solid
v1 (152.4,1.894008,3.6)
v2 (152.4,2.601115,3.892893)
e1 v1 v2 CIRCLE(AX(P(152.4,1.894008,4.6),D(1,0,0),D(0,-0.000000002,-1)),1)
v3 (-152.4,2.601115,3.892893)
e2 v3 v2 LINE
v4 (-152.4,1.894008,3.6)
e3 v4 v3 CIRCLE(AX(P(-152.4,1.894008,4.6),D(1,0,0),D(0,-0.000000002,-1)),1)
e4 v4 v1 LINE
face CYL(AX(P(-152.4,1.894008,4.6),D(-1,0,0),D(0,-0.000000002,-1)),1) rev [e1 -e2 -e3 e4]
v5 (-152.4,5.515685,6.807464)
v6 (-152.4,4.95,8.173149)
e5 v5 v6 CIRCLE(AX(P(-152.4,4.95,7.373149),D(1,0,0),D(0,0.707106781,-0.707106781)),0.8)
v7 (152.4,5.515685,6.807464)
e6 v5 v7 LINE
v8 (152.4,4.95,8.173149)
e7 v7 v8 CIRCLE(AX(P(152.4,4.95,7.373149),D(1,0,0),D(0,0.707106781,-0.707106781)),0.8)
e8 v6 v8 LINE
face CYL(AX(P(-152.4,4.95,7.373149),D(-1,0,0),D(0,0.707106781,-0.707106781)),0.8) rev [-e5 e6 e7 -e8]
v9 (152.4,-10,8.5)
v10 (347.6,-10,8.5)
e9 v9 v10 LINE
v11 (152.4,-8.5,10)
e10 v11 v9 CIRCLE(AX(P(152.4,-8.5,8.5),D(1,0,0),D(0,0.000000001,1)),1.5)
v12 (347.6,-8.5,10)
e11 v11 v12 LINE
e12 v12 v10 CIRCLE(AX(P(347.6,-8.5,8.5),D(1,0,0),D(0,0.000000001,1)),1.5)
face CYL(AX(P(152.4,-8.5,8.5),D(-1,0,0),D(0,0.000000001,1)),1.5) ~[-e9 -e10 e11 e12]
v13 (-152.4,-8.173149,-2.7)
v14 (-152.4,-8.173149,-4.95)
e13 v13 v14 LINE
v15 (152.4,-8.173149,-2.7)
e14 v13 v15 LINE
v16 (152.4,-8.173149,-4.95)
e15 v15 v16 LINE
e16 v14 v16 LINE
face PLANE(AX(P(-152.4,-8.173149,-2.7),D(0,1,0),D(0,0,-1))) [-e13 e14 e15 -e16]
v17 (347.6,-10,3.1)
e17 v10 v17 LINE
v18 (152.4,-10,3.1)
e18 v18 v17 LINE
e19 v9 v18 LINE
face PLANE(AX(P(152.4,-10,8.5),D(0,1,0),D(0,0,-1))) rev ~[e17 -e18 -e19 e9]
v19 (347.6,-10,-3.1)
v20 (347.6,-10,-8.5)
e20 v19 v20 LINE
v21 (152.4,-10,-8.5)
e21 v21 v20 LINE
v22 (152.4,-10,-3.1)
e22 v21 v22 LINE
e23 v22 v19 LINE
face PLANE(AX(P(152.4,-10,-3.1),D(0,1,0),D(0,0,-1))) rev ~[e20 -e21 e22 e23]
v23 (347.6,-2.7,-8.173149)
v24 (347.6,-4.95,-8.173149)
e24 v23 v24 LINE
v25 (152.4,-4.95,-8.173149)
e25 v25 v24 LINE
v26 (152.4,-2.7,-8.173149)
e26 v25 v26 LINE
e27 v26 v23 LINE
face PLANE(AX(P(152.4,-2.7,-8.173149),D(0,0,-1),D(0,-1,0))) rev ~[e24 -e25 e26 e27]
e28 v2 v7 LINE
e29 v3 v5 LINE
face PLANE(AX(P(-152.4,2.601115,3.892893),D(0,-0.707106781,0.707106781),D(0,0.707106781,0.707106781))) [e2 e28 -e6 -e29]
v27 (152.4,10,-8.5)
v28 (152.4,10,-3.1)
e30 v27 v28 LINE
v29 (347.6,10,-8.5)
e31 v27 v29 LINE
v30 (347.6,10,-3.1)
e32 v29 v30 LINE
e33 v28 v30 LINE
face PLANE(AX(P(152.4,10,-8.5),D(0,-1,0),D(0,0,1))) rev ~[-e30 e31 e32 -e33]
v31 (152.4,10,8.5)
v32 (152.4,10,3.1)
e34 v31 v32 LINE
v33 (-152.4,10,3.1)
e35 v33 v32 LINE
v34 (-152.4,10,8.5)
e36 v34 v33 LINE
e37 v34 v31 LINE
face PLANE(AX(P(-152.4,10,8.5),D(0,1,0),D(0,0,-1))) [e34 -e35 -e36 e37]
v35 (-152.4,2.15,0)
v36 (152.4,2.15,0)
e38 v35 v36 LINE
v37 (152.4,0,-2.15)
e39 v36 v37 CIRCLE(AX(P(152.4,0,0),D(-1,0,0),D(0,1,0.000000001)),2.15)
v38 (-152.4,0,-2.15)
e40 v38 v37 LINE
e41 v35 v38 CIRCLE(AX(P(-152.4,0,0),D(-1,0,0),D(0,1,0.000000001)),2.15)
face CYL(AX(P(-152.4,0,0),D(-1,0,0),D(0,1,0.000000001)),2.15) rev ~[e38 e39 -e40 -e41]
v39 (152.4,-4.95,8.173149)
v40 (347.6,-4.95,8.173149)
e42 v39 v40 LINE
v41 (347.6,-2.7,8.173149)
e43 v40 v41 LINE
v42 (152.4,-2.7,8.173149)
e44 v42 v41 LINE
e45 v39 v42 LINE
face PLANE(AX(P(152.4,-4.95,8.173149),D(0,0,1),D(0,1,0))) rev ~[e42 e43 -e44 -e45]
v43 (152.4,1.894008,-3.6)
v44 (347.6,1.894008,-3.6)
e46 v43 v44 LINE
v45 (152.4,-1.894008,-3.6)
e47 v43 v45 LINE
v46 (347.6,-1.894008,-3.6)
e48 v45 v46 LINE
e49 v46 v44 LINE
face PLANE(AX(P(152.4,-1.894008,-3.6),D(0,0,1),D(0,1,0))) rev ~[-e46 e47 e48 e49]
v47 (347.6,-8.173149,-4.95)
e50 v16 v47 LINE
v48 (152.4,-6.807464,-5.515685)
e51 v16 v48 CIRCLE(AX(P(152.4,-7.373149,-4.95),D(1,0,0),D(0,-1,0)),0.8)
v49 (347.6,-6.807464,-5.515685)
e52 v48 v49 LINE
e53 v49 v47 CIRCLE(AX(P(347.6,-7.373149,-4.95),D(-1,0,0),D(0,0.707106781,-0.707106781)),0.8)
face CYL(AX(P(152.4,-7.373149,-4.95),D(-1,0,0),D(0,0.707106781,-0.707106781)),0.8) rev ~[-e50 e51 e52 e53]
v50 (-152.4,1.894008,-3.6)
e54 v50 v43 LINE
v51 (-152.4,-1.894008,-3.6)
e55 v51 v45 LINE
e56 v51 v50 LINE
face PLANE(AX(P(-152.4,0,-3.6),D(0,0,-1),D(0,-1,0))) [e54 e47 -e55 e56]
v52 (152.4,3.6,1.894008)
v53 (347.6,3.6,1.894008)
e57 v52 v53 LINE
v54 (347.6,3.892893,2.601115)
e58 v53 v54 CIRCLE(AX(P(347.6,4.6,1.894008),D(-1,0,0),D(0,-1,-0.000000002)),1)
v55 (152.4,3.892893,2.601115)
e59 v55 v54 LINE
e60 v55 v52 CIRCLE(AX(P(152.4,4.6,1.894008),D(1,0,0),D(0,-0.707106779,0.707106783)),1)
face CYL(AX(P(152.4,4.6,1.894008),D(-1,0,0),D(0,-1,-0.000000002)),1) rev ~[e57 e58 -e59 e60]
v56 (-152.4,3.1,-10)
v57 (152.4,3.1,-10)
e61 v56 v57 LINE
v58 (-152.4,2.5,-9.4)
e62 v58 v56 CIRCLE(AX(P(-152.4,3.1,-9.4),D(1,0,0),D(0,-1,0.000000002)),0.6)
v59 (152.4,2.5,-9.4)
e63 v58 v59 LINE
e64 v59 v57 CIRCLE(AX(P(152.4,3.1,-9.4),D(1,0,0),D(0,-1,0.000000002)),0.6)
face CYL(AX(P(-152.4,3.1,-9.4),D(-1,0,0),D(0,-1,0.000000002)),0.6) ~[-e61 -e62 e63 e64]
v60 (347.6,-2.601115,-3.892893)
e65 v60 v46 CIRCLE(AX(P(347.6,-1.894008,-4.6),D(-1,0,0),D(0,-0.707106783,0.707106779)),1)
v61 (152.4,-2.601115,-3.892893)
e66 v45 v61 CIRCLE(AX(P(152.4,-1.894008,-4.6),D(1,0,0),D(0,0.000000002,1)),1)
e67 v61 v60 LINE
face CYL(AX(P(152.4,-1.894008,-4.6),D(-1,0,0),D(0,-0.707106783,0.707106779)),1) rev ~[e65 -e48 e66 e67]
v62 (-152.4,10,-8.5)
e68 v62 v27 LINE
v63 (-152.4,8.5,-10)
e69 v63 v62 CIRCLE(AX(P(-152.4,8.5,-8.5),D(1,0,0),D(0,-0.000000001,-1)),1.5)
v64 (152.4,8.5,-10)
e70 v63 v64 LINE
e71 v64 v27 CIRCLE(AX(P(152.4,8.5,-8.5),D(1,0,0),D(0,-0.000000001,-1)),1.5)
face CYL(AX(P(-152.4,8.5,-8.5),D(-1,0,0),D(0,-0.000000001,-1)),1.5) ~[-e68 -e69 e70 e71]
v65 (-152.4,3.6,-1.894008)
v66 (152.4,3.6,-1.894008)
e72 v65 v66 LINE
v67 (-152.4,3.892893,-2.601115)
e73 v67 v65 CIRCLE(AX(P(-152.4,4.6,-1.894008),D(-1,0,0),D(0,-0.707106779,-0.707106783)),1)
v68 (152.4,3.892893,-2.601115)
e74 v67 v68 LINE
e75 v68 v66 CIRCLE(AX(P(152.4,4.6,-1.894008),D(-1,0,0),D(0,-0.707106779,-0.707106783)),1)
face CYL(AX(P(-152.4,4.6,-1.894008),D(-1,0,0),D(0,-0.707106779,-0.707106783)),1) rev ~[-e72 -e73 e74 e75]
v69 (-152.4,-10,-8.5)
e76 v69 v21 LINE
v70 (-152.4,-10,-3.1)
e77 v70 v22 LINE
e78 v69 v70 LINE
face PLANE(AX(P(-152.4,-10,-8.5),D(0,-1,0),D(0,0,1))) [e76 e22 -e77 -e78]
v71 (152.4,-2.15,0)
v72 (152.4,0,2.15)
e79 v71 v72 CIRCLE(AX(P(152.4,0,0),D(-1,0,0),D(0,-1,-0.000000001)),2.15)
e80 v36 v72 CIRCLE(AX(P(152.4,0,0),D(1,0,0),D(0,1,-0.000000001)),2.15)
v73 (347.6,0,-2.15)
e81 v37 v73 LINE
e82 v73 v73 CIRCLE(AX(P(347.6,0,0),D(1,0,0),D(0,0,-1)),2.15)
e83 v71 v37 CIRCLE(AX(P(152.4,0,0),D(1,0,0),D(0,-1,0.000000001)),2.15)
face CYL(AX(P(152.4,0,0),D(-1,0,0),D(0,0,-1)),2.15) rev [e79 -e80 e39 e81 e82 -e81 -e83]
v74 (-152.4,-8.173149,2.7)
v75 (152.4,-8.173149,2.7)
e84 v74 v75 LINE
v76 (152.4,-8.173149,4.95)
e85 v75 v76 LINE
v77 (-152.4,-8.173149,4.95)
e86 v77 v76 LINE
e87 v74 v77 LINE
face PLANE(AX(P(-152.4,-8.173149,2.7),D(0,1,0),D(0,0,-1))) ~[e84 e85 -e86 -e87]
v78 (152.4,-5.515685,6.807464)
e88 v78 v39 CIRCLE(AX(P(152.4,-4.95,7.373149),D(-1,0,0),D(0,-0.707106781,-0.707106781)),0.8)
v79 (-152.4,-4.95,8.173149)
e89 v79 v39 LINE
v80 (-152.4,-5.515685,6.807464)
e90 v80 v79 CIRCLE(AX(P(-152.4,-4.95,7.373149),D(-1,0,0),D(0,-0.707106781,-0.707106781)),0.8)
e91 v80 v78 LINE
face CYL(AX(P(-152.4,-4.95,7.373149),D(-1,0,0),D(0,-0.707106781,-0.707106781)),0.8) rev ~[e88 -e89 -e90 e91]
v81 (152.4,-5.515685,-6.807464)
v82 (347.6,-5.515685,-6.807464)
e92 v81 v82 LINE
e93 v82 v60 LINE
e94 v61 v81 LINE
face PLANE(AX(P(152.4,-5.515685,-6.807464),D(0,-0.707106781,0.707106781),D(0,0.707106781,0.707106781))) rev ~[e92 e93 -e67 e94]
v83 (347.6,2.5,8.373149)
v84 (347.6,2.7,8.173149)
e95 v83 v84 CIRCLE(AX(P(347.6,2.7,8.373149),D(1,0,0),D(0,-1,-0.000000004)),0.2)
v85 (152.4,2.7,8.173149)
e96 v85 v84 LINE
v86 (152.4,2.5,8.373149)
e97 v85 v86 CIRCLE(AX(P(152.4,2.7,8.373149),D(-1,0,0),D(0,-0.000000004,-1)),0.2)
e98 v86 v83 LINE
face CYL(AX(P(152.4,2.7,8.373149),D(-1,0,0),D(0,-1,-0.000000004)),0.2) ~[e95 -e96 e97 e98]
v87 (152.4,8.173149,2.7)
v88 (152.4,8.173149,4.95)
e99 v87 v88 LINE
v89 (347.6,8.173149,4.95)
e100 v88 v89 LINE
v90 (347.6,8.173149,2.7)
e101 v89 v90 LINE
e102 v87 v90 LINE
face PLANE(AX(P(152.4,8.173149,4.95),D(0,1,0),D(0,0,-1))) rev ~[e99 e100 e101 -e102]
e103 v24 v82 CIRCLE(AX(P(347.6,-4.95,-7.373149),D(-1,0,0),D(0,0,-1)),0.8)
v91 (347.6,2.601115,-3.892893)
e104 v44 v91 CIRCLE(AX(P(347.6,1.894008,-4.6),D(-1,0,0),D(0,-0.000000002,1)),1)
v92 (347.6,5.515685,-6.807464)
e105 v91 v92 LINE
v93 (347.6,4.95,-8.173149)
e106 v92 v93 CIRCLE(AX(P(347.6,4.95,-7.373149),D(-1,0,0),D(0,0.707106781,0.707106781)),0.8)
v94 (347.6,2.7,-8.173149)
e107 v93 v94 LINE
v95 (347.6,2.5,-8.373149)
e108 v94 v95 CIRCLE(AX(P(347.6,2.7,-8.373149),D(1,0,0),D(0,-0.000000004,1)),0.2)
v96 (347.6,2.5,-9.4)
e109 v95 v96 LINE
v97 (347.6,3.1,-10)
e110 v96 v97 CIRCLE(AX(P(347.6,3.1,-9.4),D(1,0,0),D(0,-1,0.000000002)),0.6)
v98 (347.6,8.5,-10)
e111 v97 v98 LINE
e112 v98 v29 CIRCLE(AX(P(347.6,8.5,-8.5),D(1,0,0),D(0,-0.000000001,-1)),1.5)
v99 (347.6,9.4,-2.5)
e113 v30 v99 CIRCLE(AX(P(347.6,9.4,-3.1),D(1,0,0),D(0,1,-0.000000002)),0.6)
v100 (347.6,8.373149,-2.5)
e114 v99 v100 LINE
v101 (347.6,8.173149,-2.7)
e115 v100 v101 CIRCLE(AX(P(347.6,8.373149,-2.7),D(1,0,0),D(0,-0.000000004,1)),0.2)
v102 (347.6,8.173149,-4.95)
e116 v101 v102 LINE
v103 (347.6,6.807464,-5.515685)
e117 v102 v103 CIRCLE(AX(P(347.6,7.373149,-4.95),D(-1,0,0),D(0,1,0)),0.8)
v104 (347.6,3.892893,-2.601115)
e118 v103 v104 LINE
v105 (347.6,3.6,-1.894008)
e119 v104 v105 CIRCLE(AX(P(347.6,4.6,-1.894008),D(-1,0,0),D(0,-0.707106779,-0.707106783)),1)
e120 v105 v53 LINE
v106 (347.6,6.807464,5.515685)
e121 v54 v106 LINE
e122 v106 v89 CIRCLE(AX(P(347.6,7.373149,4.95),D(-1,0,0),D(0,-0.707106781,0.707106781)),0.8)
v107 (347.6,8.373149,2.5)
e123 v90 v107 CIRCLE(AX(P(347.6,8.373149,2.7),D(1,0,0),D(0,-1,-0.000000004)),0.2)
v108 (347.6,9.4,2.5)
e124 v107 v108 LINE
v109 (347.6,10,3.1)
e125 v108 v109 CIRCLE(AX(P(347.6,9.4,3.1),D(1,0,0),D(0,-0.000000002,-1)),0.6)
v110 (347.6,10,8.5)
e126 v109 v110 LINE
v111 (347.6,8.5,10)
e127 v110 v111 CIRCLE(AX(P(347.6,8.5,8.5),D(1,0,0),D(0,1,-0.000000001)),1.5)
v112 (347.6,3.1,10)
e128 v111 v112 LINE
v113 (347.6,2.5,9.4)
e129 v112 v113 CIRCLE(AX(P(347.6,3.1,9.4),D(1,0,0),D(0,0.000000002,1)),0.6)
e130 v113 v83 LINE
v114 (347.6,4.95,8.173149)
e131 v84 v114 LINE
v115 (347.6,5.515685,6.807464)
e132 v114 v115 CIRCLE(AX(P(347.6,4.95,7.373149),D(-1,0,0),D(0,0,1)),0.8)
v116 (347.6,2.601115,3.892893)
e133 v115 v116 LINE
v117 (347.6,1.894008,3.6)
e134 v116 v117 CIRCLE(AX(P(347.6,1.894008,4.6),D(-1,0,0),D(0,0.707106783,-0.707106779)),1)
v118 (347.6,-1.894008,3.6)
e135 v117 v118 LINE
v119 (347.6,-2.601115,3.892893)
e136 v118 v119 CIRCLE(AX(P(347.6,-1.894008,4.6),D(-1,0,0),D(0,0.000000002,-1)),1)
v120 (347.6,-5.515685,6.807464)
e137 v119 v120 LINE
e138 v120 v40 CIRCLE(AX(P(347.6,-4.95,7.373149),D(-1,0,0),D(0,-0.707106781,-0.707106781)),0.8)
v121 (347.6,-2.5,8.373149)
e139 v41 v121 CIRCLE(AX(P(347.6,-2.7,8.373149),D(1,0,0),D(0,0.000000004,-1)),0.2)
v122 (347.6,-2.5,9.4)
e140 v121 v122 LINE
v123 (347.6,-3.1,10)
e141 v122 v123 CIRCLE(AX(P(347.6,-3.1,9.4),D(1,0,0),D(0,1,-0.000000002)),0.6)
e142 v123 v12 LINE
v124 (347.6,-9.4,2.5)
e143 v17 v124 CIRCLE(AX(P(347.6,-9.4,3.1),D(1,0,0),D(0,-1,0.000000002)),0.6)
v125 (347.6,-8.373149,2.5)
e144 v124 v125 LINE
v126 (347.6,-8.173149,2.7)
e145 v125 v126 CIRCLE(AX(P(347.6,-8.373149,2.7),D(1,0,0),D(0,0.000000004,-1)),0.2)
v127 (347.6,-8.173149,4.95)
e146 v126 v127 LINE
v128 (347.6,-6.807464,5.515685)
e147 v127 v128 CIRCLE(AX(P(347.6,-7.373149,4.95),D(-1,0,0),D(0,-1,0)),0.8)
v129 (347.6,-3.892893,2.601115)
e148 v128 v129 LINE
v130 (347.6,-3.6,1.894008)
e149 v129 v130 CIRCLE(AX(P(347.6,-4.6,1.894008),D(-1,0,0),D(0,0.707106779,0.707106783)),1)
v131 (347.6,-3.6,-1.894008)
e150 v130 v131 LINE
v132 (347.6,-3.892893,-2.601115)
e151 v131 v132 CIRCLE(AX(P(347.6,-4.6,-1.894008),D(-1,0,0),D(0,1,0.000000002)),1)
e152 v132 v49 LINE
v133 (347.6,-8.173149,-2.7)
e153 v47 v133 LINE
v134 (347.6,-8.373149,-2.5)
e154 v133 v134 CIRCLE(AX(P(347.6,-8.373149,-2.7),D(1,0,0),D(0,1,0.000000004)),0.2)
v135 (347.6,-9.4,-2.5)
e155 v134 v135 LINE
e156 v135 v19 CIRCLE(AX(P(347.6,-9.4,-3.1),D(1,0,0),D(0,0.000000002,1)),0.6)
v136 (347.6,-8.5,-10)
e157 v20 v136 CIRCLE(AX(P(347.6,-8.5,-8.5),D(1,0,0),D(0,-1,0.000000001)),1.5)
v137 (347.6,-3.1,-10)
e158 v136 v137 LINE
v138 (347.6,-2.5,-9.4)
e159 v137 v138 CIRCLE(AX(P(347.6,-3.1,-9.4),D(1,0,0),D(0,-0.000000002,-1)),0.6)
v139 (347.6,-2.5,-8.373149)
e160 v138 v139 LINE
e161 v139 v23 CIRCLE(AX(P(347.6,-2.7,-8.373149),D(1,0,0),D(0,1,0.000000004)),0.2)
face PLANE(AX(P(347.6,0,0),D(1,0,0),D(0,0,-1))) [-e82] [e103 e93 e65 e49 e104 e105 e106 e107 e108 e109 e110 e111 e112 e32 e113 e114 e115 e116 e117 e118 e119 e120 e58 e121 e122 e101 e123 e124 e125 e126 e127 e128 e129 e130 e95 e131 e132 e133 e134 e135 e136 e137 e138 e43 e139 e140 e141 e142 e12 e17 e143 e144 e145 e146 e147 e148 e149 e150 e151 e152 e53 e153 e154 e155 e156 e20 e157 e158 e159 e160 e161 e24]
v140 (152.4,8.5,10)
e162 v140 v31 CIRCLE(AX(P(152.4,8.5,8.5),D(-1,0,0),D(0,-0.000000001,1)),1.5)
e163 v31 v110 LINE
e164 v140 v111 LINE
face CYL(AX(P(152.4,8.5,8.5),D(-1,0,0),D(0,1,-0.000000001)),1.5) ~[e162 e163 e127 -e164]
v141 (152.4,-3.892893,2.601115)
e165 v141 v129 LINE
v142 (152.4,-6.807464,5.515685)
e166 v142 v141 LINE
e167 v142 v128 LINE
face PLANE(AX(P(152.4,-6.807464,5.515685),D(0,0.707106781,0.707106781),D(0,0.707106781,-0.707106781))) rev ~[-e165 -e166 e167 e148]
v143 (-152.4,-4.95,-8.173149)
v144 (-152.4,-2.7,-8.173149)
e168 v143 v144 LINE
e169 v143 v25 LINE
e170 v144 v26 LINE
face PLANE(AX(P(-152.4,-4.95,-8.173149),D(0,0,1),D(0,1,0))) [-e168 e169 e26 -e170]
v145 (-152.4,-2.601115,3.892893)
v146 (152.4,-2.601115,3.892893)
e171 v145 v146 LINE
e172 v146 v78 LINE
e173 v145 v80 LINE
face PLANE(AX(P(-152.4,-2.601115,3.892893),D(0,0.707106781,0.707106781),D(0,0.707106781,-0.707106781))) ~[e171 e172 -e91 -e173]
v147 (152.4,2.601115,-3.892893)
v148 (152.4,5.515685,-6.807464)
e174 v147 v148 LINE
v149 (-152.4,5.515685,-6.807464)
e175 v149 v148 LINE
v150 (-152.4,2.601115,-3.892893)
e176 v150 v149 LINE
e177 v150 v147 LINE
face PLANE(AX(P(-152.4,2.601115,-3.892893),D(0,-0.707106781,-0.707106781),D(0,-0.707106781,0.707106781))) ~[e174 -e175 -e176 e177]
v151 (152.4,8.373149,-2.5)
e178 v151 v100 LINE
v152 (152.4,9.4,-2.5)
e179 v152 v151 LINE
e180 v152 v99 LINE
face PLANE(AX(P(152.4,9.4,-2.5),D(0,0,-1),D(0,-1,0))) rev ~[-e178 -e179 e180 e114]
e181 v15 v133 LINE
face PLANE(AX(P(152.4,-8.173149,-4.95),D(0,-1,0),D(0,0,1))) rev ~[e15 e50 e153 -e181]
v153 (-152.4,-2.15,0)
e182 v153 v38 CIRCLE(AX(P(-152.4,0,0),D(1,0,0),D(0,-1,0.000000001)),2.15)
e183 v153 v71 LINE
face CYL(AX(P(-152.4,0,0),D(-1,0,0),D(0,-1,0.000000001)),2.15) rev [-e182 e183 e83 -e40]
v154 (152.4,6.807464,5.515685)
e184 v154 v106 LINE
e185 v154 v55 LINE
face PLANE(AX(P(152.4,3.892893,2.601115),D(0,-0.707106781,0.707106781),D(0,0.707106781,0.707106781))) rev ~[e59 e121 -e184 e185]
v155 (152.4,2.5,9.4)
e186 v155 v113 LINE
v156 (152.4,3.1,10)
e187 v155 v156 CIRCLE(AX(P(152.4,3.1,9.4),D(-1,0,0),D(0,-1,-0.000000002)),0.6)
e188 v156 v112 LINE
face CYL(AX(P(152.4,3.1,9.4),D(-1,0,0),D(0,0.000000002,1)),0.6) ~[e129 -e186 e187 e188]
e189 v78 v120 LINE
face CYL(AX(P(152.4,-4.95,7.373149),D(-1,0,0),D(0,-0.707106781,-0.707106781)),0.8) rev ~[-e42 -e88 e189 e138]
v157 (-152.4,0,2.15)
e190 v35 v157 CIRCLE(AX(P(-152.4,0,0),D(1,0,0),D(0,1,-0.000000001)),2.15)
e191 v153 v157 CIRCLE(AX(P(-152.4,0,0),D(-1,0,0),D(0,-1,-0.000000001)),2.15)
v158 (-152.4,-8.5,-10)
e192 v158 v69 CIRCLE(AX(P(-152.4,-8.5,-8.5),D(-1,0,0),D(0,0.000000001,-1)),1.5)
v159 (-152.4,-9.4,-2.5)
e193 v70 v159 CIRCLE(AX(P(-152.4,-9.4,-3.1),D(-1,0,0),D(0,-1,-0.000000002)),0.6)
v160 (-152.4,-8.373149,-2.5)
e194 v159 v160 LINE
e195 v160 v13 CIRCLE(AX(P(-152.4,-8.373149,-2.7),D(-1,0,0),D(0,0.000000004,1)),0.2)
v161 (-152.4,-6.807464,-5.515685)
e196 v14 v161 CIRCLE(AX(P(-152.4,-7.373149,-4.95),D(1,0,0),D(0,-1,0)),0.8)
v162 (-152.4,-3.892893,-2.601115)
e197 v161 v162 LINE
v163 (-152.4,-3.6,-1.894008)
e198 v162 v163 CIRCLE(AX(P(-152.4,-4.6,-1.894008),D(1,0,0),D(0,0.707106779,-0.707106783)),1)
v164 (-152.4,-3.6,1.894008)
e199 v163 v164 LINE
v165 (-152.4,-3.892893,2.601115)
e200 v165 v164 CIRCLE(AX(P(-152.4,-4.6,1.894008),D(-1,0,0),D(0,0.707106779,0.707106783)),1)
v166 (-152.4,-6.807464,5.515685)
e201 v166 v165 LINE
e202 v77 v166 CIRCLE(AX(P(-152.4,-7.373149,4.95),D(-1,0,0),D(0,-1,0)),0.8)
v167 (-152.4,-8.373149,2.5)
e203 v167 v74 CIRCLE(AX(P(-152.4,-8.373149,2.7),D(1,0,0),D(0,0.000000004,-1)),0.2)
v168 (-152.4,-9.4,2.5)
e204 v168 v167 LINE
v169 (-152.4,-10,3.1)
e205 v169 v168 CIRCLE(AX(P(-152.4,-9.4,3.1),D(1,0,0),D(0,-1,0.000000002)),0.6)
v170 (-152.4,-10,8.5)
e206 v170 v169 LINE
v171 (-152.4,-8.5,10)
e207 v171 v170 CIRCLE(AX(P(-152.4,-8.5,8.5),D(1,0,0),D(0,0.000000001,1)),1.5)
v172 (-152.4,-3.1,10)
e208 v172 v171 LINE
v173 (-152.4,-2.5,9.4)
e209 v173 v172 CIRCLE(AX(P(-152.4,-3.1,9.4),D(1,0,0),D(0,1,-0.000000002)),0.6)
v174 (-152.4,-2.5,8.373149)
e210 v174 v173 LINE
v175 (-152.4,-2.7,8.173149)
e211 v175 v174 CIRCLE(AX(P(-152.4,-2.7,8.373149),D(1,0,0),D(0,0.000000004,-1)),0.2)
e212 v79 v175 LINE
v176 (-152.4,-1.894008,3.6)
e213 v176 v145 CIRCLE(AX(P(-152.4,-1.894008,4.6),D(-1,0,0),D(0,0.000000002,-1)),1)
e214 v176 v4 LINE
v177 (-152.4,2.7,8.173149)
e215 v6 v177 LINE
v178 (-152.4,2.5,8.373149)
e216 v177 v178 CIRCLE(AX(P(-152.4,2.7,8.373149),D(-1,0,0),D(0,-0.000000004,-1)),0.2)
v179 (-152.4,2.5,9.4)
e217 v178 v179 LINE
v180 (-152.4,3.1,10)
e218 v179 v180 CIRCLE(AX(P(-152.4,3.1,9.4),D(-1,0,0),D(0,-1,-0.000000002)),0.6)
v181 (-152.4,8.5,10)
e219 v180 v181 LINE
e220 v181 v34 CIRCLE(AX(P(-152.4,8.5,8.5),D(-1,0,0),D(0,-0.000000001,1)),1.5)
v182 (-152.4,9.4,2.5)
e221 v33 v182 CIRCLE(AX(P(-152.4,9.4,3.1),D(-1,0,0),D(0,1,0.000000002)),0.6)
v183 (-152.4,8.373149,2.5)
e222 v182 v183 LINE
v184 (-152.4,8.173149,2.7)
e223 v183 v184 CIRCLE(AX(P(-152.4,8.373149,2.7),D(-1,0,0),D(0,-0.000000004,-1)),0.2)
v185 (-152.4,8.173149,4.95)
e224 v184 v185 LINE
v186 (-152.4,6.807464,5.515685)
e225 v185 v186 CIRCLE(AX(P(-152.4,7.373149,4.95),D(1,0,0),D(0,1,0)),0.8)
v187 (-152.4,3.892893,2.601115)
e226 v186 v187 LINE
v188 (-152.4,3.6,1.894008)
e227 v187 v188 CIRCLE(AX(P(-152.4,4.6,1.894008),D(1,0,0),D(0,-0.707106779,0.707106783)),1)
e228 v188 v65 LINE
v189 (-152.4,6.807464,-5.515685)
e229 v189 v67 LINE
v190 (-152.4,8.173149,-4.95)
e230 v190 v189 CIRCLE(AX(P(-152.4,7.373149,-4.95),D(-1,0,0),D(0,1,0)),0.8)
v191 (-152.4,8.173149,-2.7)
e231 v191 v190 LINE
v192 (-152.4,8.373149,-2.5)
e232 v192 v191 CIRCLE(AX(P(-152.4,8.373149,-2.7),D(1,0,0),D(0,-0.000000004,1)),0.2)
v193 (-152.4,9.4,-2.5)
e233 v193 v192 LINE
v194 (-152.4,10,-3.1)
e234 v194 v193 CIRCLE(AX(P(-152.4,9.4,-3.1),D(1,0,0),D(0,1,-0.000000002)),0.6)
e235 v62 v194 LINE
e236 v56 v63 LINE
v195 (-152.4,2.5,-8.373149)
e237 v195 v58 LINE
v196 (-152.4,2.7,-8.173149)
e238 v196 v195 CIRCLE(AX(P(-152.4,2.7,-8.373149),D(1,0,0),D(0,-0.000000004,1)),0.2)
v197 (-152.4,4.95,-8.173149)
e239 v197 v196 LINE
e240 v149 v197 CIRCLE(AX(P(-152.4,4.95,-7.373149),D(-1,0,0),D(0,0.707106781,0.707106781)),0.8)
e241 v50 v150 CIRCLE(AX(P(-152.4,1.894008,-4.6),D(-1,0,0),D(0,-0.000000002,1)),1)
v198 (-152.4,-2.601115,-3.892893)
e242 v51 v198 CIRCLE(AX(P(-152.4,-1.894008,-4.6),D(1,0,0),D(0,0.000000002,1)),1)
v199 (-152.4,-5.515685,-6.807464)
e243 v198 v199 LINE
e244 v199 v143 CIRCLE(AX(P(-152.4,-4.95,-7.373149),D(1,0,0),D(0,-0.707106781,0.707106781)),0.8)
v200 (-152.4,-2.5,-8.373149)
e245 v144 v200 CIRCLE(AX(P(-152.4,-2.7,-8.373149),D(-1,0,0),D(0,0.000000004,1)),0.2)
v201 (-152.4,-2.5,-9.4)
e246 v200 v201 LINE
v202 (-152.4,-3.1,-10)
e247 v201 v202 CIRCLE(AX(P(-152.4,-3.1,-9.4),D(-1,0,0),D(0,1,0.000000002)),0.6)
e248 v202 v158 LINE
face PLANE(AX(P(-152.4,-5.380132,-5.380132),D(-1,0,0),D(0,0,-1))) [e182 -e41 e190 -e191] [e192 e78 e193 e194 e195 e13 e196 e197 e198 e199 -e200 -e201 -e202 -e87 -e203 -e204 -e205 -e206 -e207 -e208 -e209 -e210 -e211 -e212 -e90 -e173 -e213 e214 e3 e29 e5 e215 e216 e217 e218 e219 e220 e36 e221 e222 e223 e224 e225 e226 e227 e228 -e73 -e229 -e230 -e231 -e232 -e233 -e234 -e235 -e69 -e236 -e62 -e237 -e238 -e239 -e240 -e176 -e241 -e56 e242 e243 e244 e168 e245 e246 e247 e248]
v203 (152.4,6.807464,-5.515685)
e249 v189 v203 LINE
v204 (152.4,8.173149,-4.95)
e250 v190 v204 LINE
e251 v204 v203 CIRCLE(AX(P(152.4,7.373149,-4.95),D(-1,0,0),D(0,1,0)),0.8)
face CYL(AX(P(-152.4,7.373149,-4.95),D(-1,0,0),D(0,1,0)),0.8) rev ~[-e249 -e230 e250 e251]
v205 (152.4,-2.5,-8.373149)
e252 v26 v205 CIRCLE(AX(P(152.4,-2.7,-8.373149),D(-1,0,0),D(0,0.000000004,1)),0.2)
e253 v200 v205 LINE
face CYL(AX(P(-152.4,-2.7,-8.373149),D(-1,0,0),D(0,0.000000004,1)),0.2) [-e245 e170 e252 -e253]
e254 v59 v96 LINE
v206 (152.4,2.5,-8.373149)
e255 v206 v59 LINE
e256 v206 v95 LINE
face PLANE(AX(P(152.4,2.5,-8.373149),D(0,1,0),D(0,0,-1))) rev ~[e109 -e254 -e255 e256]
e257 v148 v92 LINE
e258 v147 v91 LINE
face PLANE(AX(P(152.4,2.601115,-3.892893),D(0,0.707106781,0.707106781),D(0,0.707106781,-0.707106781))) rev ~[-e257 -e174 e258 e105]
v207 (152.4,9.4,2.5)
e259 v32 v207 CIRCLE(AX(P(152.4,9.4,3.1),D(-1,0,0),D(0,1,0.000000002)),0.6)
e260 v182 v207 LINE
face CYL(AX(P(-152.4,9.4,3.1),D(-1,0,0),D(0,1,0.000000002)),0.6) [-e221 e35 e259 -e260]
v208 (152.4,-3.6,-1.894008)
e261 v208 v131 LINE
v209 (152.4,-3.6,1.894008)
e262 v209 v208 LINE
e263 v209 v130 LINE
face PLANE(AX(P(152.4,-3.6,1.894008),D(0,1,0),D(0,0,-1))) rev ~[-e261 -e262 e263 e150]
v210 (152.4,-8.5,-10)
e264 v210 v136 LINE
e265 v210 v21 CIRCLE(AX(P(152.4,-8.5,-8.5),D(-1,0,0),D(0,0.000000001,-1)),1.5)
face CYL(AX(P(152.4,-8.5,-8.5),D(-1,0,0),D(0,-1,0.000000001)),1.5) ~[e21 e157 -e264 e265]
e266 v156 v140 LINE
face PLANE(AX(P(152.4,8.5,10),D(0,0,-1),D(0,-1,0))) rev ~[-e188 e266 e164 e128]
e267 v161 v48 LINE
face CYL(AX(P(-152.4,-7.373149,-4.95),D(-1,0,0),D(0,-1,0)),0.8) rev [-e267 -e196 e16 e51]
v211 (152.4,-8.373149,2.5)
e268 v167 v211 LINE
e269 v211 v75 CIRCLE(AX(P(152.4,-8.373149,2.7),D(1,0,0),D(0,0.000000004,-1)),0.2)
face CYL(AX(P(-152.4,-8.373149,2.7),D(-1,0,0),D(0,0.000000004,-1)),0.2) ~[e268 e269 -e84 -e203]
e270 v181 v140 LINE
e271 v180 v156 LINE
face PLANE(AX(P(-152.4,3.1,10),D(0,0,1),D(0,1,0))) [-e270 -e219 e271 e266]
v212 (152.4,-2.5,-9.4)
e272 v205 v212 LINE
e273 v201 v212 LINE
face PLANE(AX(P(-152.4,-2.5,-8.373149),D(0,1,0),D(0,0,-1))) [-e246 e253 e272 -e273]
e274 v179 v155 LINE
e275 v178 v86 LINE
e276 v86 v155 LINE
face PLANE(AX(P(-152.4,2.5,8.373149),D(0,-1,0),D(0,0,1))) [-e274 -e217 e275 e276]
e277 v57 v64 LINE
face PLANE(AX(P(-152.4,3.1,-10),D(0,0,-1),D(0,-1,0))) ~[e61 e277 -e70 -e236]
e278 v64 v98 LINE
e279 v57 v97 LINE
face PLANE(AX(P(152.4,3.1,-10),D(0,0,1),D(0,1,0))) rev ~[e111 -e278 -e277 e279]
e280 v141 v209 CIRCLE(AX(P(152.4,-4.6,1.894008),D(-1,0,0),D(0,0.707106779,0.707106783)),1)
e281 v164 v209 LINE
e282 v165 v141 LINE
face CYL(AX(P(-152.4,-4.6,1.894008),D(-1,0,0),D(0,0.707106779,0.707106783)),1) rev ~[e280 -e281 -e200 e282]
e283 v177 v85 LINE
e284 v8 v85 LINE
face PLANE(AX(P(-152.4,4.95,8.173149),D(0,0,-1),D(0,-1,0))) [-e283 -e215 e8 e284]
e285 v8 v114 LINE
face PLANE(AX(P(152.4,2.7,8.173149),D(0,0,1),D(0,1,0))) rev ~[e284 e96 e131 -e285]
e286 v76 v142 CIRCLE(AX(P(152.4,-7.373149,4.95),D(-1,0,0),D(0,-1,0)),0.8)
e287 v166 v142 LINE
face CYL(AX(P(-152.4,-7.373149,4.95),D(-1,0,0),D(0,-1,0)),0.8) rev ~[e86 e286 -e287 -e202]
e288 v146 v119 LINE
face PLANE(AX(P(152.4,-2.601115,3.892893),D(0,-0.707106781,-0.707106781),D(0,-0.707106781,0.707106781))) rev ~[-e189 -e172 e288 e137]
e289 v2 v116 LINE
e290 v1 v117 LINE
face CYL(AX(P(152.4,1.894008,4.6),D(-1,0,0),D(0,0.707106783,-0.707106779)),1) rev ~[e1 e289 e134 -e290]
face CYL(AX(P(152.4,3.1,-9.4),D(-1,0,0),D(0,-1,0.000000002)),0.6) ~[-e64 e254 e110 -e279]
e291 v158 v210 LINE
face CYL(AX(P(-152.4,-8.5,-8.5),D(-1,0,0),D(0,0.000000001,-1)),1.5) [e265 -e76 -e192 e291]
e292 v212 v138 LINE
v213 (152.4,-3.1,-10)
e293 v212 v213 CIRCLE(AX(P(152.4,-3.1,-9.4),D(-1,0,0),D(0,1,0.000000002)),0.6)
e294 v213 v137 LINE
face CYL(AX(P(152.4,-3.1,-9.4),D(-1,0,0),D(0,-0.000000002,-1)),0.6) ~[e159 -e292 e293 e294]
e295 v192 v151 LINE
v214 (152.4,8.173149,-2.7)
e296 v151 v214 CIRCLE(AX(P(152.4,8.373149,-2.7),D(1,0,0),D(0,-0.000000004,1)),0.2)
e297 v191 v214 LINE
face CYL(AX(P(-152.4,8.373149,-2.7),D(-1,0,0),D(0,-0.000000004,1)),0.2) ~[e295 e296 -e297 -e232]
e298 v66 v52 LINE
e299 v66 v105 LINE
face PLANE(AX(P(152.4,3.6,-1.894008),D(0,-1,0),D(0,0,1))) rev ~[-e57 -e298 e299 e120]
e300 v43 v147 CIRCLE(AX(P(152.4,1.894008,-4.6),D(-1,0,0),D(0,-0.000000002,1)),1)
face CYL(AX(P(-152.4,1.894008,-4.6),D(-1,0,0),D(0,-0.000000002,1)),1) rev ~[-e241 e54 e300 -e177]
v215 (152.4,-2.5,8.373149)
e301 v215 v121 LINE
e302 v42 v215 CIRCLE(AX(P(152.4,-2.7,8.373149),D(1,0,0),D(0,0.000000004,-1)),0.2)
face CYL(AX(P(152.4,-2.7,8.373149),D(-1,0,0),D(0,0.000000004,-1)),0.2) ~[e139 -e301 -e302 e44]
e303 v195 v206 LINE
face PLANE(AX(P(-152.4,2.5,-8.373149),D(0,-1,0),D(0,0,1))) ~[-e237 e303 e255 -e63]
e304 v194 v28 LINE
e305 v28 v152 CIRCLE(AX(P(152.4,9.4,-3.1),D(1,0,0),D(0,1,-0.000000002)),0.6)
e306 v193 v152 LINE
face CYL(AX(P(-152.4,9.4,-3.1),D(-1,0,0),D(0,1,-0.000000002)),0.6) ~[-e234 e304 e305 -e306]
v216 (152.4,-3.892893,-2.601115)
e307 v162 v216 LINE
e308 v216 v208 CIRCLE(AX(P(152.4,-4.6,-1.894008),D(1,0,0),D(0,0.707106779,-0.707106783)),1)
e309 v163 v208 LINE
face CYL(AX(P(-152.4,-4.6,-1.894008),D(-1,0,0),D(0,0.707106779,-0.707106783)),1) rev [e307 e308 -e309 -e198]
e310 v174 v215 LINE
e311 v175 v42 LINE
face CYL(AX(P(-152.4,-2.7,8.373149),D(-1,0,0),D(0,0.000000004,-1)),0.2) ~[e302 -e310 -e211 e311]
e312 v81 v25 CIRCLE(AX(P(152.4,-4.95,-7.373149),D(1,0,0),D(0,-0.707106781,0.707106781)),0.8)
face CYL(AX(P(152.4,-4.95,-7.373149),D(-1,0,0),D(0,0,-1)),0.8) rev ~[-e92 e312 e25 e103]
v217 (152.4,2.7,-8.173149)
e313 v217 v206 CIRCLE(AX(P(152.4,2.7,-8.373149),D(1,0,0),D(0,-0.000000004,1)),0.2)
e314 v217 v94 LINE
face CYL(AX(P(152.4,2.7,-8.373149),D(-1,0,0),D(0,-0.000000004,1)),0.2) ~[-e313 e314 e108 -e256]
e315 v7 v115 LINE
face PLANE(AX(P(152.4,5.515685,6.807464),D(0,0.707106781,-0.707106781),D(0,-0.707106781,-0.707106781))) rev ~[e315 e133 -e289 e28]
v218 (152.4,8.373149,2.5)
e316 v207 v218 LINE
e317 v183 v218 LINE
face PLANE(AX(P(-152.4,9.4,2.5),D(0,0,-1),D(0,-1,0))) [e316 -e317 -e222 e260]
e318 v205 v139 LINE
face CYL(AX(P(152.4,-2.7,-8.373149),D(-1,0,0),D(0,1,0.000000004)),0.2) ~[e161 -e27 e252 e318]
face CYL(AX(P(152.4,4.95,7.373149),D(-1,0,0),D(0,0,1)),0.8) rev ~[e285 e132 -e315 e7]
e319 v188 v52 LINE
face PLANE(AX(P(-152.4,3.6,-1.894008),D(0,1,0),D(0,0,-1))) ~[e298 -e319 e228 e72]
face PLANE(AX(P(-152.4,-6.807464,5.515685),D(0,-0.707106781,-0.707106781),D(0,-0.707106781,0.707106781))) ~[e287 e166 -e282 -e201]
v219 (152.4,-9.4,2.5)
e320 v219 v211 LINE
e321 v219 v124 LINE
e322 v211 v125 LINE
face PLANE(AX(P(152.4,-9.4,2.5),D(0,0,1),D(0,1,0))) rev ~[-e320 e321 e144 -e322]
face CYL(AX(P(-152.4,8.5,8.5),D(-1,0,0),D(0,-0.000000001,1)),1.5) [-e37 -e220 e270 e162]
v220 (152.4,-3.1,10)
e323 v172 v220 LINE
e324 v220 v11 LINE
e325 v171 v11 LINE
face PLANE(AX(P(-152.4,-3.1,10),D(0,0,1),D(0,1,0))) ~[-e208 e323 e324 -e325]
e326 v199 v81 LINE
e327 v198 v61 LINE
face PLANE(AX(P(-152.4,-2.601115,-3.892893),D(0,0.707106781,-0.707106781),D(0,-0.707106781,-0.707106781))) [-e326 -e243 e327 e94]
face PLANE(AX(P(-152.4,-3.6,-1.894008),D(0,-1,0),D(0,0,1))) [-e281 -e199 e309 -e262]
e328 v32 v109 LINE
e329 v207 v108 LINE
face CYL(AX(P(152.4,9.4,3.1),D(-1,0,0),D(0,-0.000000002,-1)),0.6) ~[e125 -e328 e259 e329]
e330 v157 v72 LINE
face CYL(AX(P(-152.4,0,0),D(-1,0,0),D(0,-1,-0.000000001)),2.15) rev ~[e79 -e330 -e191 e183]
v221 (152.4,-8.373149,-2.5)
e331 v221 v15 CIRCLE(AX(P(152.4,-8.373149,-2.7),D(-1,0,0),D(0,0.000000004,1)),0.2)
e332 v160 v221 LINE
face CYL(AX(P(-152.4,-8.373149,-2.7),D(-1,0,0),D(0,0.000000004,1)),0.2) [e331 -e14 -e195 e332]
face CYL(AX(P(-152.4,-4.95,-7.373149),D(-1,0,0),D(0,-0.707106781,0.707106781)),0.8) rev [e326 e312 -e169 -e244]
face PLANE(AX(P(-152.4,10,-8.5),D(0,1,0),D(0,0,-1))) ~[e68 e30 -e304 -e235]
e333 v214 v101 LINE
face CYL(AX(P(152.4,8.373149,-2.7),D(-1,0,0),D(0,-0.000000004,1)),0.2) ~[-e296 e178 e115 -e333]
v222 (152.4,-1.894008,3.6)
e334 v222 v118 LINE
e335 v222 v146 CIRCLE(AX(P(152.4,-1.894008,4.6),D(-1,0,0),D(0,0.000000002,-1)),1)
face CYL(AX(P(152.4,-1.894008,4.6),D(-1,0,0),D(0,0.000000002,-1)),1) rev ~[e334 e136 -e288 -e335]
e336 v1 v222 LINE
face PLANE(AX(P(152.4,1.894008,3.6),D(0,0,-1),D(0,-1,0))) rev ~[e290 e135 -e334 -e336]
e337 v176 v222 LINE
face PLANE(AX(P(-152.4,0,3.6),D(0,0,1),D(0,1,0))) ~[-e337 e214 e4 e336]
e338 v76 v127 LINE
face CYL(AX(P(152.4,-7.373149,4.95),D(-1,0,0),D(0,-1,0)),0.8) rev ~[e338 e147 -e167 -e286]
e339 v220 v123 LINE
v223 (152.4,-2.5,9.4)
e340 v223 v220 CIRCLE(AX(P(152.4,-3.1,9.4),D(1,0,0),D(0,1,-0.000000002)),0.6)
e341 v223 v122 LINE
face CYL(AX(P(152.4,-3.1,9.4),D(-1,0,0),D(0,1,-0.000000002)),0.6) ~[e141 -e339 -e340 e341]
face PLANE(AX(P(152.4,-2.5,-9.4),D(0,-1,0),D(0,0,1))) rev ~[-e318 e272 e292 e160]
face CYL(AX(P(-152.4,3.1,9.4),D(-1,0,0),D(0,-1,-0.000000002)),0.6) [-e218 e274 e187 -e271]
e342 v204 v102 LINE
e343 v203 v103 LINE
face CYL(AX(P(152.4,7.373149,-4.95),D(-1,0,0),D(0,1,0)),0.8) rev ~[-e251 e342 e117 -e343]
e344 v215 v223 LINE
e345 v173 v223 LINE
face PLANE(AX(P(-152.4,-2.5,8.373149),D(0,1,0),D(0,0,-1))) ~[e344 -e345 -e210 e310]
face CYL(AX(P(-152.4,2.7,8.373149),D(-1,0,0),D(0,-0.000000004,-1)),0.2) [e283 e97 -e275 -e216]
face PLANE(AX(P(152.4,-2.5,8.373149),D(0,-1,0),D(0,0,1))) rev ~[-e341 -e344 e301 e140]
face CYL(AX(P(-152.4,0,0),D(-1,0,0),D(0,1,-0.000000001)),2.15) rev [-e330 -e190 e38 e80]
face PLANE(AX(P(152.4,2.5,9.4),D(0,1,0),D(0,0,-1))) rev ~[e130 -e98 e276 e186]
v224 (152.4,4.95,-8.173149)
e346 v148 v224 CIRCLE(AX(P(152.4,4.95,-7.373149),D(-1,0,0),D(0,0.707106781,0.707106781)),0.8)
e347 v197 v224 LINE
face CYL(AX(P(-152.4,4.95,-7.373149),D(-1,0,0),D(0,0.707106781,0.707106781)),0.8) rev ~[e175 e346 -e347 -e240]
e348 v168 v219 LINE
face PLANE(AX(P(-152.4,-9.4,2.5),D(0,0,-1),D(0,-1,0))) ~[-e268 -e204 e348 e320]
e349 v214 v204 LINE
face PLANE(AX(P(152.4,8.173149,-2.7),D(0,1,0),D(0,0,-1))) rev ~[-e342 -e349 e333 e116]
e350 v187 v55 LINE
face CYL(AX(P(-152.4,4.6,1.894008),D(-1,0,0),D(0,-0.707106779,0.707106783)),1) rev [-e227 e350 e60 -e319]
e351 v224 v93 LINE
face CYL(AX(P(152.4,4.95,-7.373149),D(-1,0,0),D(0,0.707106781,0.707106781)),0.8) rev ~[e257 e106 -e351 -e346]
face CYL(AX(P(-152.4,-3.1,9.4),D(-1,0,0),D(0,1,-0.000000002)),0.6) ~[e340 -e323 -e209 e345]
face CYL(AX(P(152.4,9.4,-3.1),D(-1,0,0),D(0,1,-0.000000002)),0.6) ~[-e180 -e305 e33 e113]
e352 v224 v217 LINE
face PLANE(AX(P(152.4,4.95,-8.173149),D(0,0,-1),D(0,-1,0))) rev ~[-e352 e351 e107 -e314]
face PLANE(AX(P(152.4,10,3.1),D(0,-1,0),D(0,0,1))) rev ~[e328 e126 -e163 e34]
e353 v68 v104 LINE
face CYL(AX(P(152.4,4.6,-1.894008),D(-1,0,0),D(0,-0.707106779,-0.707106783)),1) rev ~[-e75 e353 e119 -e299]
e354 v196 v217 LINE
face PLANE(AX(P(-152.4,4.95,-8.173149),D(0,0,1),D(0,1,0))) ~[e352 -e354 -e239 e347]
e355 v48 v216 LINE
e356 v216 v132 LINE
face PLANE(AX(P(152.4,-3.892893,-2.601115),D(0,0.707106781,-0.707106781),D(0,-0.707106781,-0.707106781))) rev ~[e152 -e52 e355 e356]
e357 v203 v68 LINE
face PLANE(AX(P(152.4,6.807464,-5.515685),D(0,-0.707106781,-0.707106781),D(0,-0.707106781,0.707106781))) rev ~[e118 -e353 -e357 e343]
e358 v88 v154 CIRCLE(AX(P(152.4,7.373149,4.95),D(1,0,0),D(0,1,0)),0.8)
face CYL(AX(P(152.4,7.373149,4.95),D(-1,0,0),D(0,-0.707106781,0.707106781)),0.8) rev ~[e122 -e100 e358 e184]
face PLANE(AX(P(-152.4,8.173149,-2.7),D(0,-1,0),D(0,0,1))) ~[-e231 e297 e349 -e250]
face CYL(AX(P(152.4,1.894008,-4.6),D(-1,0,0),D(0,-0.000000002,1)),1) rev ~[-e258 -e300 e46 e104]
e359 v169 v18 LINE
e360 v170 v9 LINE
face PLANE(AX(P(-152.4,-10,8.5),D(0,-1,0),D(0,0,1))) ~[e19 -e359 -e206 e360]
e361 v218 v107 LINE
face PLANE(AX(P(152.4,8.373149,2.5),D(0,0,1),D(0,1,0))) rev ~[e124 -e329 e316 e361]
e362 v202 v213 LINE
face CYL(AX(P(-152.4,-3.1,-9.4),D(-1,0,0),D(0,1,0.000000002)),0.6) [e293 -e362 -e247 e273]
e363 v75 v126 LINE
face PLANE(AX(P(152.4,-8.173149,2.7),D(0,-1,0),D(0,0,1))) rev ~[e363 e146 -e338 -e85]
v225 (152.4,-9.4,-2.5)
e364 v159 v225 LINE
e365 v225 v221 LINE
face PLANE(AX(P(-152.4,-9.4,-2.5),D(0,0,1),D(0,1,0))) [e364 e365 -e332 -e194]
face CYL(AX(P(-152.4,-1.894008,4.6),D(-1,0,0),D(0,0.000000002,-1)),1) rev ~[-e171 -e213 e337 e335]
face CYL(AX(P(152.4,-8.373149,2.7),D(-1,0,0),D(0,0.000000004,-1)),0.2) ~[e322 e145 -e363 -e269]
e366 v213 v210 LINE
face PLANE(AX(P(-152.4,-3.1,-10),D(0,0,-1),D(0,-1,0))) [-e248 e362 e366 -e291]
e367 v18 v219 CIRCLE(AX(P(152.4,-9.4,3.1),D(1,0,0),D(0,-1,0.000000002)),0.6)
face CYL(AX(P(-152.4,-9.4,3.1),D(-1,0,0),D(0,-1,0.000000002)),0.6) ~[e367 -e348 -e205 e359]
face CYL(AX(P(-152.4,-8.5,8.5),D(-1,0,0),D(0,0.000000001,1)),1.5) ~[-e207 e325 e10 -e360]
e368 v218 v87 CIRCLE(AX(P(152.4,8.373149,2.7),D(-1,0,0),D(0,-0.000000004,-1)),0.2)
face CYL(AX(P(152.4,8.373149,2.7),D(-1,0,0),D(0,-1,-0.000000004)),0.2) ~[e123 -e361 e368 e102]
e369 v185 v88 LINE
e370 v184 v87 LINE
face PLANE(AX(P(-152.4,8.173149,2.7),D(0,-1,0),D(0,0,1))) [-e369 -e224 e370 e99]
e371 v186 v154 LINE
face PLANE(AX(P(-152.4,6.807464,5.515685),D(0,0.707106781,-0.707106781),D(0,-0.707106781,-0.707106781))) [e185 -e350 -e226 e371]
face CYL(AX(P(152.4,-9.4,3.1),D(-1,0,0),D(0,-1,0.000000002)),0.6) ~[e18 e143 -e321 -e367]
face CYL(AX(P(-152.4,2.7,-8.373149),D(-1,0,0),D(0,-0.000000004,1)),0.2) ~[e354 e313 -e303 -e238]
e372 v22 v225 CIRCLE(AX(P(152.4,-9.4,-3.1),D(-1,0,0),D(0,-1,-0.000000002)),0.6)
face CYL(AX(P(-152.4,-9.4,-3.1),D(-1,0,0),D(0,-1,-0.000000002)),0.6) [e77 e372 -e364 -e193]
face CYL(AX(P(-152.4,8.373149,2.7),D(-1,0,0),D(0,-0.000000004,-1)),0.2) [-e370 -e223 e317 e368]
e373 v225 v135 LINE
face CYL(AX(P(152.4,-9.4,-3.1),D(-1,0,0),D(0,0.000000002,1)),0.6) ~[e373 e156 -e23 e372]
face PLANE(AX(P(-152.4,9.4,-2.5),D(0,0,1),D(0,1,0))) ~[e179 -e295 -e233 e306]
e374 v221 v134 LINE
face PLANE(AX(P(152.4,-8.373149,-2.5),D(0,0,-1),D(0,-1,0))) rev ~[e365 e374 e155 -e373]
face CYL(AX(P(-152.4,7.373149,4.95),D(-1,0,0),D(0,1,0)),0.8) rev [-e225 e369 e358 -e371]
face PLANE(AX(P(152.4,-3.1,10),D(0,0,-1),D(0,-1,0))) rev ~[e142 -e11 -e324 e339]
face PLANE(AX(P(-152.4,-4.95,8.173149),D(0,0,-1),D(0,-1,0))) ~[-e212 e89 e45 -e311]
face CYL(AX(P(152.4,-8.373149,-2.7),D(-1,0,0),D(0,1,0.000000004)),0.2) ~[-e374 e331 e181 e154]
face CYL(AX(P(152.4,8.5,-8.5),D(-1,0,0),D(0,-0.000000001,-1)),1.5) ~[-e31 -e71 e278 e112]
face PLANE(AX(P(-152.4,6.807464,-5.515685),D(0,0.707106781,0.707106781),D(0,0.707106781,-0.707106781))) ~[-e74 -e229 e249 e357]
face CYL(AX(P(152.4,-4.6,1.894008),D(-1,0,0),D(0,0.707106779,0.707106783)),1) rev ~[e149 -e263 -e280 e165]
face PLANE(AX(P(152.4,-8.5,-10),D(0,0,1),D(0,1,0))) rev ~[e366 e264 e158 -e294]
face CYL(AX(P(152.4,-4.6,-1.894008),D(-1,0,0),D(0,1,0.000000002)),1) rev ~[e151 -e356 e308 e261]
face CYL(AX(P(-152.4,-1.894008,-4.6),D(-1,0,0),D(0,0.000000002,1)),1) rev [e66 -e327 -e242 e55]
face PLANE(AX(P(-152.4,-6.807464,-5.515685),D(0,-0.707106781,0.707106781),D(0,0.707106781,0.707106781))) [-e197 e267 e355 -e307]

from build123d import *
from build123d.topology import SkipClean

# Parameters (mm, degrees)
BOSS_EXTRUDE1_DEPTH      = 152.4
BOSS_EXTRUDE1_DEPTH_BACK = 152.4
SKETCH4_R                = 2.15
BOSS_EXTRUDE2_DEPTH      = 195.2


with BuildPart() as part:
    # Sketch3 → Boss-Extrude1 (new, two sides: drawn at the far end of the back side and taken through both)
    with BuildSketch(Plane(origin=(0, 0, 0), x_dir=(0, 0, -1), z_dir=(1, 0, 0)).offset(-BOSS_EXTRUDE1_DEPTH_BACK)):
        with BuildLine():
            Line((-5.515685425, 6.807463915), (-2.601114729, 3.892893219))
            ThreePointArc((-2.601114729, 3.892893219), (-2.27669138, 3.676120467), (-1.894007948, 3.6))
            Line((-1.894007948, 3.6), (0, 3.6))
            Line((0, 3.6), (0, 2.15))
            ThreePointArc((0, 2.15), (-1.52027958, 1.52027958), (-2.15, 0))
            Line((-2.15, 0), (-3.6, 0))
            Line((-3.6, 0), (-3.6, 1.894007948))
            ThreePointArc((-3.6, 1.894007948), (-3.676120467, 2.27669138), (-3.892893219, 2.601114729))
            Line((-3.892893219, 2.601114729), (-6.807463915, 5.515685425))
            ThreePointArc((-6.807463915, 5.515685425), (-7.679296086, 5.689103626), (-8.17314934, 4.95))
            Line((-8.17314934, 4.95), (-8.17314934, 2.7))
            ThreePointArc((-8.17314934, 2.7), (-8.231727984, 2.558578644), (-8.37314934, 2.5))
            Line((-8.37314934, 2.5), (-9.4, 2.5))
            ThreePointArc((-9.4, 2.5), (-9.824264069, 2.675735931), (-10, 3.1))
            Line((-10, 3.1), (-10, 8.5))
            ThreePointArc((-10, 8.5), (-9.560660172, 9.560660172), (-8.5, 10))
            Line((-8.5, 10), (-3.1, 10))
            ThreePointArc((-3.1, 10), (-2.675735931, 9.824264069), (-2.5, 9.4))
            Line((-2.5, 9.4), (-2.5, 8.37314934))
            ThreePointArc((-2.5, 8.37314934), (-2.558578644, 8.231727984), (-2.7, 8.17314934))
            Line((-2.7, 8.17314934), (-4.95, 8.17314934))
            ThreePointArc((-4.95, 8.17314934), (-5.689103626, 7.679296086), (-5.515685425, 6.807463915))
        make_face()
    extrude(amount=BOSS_EXTRUDE1_DEPTH + BOSS_EXTRUDE1_DEPTH_BACK)

    # Mirror1: part across plane


with BuildPart() as part_1:
    add(part.part)
    add(part.part.mirror(Plane.ZX))

    # Mirror2: part across plane


with BuildPart() as part_2:
    add(part_1.part)
    add(part_1.part.mirror(Plane.XY))

    # Sketch4 → Boss-Extrude2 (add)
    with SkipClean():  # the faces are left unmerged after this step: merging them gives an invalid solid
        with BuildSketch(Plane(origin=(152.4, 0, 0), x_dir=(0, 0, -1), z_dir=(1, 0, 0))):
            with BuildLine():
                Line((1.894007948, 3.6), (-1.894007948, 3.6))
                ThreePointArc((-1.894007948, 3.6), (-2.27669138, 3.676120467), (-2.601114729, 3.892893219))
                Line((-2.601114729, 3.892893219), (-5.515685425, 6.807463915))
                ThreePointArc((-5.515685425, 6.807463915), (-5.689103626, 7.679296086), (-4.95, 8.17314934))
                Line((-4.95, 8.17314934), (-2.7, 8.17314934))
                ThreePointArc((-2.7, 8.17314934), (-2.558578644, 8.231727984), (-2.5, 8.37314934))
                Line((-2.5, 8.37314934), (-2.5, 9.4))
                ThreePointArc((-2.5, 9.4), (-2.675735931, 9.824264069), (-3.1, 10))
                Line((-3.1, 10), (-8.5, 10))
                ThreePointArc((-8.5, 10), (-9.560660172, 9.560660172), (-10, 8.5))
                Line((-10, 8.5), (-10, 3.1))
                ThreePointArc((-10, 3.1), (-9.824264069, 2.675735931), (-9.4, 2.5))
                Line((-9.4, 2.5), (-8.37314934, 2.5))
                ThreePointArc((-8.37314934, 2.5), (-8.231727984, 2.558578644), (-8.17314934, 2.7))
                Line((-8.17314934, 2.7), (-8.17314934, 4.95))
                ThreePointArc((-8.17314934, 4.95), (-7.679296086, 5.689103626), (-6.807463915, 5.515685425))
                Line((-6.807463915, 5.515685425), (-3.892893219, 2.601114729))
                ThreePointArc((-3.892893219, 2.601114729), (-3.676120467, 2.27669138), (-3.6, 1.894007948))
                Line((-3.6, 1.894007948), (-3.6, -1.894007948))
                ThreePointArc((-3.6, -1.894007948), (-3.676120467, -2.27669138), (-3.892893219, -2.601114729))
                Line((-3.892893219, -2.601114729), (-6.807463915, -5.515685425))
                ThreePointArc((-6.807463915, -5.515685425), (-7.679296086, -5.689103626), (-8.17314934, -4.95))
                Line((-8.17314934, -4.95), (-8.17314934, -2.7))
                ThreePointArc((-8.17314934, -2.7), (-8.231727984, -2.558578644), (-8.37314934, -2.5))
                Line((-8.37314934, -2.5), (-9.4, -2.5))
                ThreePointArc((-9.4, -2.5), (-9.824264069, -2.675735931), (-10, -3.1))
                Line((-10, -3.1), (-10, -8.5))
                ThreePointArc((-10, -8.5), (-9.560660172, -9.560660172), (-8.5, -10))
                Line((-8.5, -10), (-3.1, -10))
                ThreePointArc((-3.1, -10), (-2.675735931, -9.824264069), (-2.5, -9.4))
                Line((-2.5, -9.4), (-2.5, -8.37314934))
                ThreePointArc((-2.5, -8.37314934), (-2.558578644, -8.231727984), (-2.7, -8.17314934))
                Line((-2.7, -8.17314934), (-4.95, -8.17314934))
                ThreePointArc((-4.95, -8.17314934), (-5.689103626, -7.679296086), (-5.515685425, -6.807463915))
                Line((-5.515685425, -6.807463915), (-2.601114729, -3.892893219))
                ThreePointArc((-2.601114729, -3.892893219), (-2.27669138, -3.676120467), (-1.894007948, -3.6))
                Line((-1.894007948, -3.6), (1.894007948, -3.6))
                ThreePointArc((1.894007948, -3.6), (2.27669138, -3.676120467), (2.601114729, -3.892893219))
                Line((2.601114729, -3.892893219), (5.515685425, -6.807463915))
                ThreePointArc((5.515685425, -6.807463915), (5.689103626, -7.679296086), (4.95, -8.17314934))
                Line((4.95, -8.17314934), (2.7, -8.17314934))
                ThreePointArc((2.7, -8.17314934), (2.558578644, -8.231727984), (2.5, -8.37314934))
                Line((2.5, -8.37314934), (2.5, -9.4))
                ThreePointArc((2.5, -9.4), (2.675735931, -9.824264069), (3.1, -10))
                Line((3.1, -10), (8.5, -10))
                ThreePointArc((8.5, -10), (9.560660172, -9.560660172), (10, -8.5))
                Line((10, -8.5), (10, -3.1))
                ThreePointArc((10, -3.1), (9.824264069, -2.675735931), (9.4, -2.5))
                Line((9.4, -2.5), (8.37314934, -2.5))
                ThreePointArc((8.37314934, -2.5), (8.231727984, -2.558578644), (8.17314934, -2.7))
                Line((8.17314934, -2.7), (8.17314934, -4.95))
                ThreePointArc((8.17314934, -4.95), (7.679296086, -5.689103626), (6.807463915, -5.515685425))
                Line((6.807463915, -5.515685425), (3.892893219, -2.601114729))
                ThreePointArc((3.892893219, -2.601114729), (3.676120467, -2.27669138), (3.6, -1.894007948))
                Line((3.6, -1.894007948), (3.6, 1.894007948))
                ThreePointArc((3.6, 1.894007948), (3.676120467, 2.27669138), (3.892893219, 2.601114729))
                Line((3.892893219, 2.601114729), (6.807463915, 5.515685425))
                ThreePointArc((6.807463915, 5.515685425), (7.679296086, 5.689103626), (8.17314934, 4.95))
                Line((8.17314934, 4.95), (8.17314934, 2.7))
                ThreePointArc((8.17314934, 2.7), (8.231727984, 2.558578644), (8.37314934, 2.5))
                Line((8.37314934, 2.5), (9.4, 2.5))
                ThreePointArc((9.4, 2.5), (9.824264069, 2.675735931), (10, 3.1))
                Line((10, 3.1), (10, 8.5))
                ThreePointArc((10, 8.5), (9.560660172, 9.560660172), (8.5, 10))
                Line((8.5, 10), (3.1, 10))
                ThreePointArc((3.1, 10), (2.675735931, 9.824264069), (2.5, 9.4))
                Line((2.5, 9.4), (2.5, 8.37314934))
                ThreePointArc((2.5, 8.37314934), (2.558578644, 8.231727984), (2.7, 8.17314934))
                Line((2.7, 8.17314934), (4.95, 8.17314934))
                ThreePointArc((4.95, 8.17314934), (5.689103626, 7.679296086), (5.515685425, 6.807463915))
                Line((5.515685425, 6.807463915), (2.601114729, 3.892893219))
                ThreePointArc((2.601114729, 3.892893219), (2.27669138, 3.676120467), (1.894007948, 3.6))
            make_face()
            Circle(SKETCH4_R, mode=Mode.SUBTRACT)
        extrude(amount=BOSS_EXTRUDE2_DEPTH)


solid = part_2.part
